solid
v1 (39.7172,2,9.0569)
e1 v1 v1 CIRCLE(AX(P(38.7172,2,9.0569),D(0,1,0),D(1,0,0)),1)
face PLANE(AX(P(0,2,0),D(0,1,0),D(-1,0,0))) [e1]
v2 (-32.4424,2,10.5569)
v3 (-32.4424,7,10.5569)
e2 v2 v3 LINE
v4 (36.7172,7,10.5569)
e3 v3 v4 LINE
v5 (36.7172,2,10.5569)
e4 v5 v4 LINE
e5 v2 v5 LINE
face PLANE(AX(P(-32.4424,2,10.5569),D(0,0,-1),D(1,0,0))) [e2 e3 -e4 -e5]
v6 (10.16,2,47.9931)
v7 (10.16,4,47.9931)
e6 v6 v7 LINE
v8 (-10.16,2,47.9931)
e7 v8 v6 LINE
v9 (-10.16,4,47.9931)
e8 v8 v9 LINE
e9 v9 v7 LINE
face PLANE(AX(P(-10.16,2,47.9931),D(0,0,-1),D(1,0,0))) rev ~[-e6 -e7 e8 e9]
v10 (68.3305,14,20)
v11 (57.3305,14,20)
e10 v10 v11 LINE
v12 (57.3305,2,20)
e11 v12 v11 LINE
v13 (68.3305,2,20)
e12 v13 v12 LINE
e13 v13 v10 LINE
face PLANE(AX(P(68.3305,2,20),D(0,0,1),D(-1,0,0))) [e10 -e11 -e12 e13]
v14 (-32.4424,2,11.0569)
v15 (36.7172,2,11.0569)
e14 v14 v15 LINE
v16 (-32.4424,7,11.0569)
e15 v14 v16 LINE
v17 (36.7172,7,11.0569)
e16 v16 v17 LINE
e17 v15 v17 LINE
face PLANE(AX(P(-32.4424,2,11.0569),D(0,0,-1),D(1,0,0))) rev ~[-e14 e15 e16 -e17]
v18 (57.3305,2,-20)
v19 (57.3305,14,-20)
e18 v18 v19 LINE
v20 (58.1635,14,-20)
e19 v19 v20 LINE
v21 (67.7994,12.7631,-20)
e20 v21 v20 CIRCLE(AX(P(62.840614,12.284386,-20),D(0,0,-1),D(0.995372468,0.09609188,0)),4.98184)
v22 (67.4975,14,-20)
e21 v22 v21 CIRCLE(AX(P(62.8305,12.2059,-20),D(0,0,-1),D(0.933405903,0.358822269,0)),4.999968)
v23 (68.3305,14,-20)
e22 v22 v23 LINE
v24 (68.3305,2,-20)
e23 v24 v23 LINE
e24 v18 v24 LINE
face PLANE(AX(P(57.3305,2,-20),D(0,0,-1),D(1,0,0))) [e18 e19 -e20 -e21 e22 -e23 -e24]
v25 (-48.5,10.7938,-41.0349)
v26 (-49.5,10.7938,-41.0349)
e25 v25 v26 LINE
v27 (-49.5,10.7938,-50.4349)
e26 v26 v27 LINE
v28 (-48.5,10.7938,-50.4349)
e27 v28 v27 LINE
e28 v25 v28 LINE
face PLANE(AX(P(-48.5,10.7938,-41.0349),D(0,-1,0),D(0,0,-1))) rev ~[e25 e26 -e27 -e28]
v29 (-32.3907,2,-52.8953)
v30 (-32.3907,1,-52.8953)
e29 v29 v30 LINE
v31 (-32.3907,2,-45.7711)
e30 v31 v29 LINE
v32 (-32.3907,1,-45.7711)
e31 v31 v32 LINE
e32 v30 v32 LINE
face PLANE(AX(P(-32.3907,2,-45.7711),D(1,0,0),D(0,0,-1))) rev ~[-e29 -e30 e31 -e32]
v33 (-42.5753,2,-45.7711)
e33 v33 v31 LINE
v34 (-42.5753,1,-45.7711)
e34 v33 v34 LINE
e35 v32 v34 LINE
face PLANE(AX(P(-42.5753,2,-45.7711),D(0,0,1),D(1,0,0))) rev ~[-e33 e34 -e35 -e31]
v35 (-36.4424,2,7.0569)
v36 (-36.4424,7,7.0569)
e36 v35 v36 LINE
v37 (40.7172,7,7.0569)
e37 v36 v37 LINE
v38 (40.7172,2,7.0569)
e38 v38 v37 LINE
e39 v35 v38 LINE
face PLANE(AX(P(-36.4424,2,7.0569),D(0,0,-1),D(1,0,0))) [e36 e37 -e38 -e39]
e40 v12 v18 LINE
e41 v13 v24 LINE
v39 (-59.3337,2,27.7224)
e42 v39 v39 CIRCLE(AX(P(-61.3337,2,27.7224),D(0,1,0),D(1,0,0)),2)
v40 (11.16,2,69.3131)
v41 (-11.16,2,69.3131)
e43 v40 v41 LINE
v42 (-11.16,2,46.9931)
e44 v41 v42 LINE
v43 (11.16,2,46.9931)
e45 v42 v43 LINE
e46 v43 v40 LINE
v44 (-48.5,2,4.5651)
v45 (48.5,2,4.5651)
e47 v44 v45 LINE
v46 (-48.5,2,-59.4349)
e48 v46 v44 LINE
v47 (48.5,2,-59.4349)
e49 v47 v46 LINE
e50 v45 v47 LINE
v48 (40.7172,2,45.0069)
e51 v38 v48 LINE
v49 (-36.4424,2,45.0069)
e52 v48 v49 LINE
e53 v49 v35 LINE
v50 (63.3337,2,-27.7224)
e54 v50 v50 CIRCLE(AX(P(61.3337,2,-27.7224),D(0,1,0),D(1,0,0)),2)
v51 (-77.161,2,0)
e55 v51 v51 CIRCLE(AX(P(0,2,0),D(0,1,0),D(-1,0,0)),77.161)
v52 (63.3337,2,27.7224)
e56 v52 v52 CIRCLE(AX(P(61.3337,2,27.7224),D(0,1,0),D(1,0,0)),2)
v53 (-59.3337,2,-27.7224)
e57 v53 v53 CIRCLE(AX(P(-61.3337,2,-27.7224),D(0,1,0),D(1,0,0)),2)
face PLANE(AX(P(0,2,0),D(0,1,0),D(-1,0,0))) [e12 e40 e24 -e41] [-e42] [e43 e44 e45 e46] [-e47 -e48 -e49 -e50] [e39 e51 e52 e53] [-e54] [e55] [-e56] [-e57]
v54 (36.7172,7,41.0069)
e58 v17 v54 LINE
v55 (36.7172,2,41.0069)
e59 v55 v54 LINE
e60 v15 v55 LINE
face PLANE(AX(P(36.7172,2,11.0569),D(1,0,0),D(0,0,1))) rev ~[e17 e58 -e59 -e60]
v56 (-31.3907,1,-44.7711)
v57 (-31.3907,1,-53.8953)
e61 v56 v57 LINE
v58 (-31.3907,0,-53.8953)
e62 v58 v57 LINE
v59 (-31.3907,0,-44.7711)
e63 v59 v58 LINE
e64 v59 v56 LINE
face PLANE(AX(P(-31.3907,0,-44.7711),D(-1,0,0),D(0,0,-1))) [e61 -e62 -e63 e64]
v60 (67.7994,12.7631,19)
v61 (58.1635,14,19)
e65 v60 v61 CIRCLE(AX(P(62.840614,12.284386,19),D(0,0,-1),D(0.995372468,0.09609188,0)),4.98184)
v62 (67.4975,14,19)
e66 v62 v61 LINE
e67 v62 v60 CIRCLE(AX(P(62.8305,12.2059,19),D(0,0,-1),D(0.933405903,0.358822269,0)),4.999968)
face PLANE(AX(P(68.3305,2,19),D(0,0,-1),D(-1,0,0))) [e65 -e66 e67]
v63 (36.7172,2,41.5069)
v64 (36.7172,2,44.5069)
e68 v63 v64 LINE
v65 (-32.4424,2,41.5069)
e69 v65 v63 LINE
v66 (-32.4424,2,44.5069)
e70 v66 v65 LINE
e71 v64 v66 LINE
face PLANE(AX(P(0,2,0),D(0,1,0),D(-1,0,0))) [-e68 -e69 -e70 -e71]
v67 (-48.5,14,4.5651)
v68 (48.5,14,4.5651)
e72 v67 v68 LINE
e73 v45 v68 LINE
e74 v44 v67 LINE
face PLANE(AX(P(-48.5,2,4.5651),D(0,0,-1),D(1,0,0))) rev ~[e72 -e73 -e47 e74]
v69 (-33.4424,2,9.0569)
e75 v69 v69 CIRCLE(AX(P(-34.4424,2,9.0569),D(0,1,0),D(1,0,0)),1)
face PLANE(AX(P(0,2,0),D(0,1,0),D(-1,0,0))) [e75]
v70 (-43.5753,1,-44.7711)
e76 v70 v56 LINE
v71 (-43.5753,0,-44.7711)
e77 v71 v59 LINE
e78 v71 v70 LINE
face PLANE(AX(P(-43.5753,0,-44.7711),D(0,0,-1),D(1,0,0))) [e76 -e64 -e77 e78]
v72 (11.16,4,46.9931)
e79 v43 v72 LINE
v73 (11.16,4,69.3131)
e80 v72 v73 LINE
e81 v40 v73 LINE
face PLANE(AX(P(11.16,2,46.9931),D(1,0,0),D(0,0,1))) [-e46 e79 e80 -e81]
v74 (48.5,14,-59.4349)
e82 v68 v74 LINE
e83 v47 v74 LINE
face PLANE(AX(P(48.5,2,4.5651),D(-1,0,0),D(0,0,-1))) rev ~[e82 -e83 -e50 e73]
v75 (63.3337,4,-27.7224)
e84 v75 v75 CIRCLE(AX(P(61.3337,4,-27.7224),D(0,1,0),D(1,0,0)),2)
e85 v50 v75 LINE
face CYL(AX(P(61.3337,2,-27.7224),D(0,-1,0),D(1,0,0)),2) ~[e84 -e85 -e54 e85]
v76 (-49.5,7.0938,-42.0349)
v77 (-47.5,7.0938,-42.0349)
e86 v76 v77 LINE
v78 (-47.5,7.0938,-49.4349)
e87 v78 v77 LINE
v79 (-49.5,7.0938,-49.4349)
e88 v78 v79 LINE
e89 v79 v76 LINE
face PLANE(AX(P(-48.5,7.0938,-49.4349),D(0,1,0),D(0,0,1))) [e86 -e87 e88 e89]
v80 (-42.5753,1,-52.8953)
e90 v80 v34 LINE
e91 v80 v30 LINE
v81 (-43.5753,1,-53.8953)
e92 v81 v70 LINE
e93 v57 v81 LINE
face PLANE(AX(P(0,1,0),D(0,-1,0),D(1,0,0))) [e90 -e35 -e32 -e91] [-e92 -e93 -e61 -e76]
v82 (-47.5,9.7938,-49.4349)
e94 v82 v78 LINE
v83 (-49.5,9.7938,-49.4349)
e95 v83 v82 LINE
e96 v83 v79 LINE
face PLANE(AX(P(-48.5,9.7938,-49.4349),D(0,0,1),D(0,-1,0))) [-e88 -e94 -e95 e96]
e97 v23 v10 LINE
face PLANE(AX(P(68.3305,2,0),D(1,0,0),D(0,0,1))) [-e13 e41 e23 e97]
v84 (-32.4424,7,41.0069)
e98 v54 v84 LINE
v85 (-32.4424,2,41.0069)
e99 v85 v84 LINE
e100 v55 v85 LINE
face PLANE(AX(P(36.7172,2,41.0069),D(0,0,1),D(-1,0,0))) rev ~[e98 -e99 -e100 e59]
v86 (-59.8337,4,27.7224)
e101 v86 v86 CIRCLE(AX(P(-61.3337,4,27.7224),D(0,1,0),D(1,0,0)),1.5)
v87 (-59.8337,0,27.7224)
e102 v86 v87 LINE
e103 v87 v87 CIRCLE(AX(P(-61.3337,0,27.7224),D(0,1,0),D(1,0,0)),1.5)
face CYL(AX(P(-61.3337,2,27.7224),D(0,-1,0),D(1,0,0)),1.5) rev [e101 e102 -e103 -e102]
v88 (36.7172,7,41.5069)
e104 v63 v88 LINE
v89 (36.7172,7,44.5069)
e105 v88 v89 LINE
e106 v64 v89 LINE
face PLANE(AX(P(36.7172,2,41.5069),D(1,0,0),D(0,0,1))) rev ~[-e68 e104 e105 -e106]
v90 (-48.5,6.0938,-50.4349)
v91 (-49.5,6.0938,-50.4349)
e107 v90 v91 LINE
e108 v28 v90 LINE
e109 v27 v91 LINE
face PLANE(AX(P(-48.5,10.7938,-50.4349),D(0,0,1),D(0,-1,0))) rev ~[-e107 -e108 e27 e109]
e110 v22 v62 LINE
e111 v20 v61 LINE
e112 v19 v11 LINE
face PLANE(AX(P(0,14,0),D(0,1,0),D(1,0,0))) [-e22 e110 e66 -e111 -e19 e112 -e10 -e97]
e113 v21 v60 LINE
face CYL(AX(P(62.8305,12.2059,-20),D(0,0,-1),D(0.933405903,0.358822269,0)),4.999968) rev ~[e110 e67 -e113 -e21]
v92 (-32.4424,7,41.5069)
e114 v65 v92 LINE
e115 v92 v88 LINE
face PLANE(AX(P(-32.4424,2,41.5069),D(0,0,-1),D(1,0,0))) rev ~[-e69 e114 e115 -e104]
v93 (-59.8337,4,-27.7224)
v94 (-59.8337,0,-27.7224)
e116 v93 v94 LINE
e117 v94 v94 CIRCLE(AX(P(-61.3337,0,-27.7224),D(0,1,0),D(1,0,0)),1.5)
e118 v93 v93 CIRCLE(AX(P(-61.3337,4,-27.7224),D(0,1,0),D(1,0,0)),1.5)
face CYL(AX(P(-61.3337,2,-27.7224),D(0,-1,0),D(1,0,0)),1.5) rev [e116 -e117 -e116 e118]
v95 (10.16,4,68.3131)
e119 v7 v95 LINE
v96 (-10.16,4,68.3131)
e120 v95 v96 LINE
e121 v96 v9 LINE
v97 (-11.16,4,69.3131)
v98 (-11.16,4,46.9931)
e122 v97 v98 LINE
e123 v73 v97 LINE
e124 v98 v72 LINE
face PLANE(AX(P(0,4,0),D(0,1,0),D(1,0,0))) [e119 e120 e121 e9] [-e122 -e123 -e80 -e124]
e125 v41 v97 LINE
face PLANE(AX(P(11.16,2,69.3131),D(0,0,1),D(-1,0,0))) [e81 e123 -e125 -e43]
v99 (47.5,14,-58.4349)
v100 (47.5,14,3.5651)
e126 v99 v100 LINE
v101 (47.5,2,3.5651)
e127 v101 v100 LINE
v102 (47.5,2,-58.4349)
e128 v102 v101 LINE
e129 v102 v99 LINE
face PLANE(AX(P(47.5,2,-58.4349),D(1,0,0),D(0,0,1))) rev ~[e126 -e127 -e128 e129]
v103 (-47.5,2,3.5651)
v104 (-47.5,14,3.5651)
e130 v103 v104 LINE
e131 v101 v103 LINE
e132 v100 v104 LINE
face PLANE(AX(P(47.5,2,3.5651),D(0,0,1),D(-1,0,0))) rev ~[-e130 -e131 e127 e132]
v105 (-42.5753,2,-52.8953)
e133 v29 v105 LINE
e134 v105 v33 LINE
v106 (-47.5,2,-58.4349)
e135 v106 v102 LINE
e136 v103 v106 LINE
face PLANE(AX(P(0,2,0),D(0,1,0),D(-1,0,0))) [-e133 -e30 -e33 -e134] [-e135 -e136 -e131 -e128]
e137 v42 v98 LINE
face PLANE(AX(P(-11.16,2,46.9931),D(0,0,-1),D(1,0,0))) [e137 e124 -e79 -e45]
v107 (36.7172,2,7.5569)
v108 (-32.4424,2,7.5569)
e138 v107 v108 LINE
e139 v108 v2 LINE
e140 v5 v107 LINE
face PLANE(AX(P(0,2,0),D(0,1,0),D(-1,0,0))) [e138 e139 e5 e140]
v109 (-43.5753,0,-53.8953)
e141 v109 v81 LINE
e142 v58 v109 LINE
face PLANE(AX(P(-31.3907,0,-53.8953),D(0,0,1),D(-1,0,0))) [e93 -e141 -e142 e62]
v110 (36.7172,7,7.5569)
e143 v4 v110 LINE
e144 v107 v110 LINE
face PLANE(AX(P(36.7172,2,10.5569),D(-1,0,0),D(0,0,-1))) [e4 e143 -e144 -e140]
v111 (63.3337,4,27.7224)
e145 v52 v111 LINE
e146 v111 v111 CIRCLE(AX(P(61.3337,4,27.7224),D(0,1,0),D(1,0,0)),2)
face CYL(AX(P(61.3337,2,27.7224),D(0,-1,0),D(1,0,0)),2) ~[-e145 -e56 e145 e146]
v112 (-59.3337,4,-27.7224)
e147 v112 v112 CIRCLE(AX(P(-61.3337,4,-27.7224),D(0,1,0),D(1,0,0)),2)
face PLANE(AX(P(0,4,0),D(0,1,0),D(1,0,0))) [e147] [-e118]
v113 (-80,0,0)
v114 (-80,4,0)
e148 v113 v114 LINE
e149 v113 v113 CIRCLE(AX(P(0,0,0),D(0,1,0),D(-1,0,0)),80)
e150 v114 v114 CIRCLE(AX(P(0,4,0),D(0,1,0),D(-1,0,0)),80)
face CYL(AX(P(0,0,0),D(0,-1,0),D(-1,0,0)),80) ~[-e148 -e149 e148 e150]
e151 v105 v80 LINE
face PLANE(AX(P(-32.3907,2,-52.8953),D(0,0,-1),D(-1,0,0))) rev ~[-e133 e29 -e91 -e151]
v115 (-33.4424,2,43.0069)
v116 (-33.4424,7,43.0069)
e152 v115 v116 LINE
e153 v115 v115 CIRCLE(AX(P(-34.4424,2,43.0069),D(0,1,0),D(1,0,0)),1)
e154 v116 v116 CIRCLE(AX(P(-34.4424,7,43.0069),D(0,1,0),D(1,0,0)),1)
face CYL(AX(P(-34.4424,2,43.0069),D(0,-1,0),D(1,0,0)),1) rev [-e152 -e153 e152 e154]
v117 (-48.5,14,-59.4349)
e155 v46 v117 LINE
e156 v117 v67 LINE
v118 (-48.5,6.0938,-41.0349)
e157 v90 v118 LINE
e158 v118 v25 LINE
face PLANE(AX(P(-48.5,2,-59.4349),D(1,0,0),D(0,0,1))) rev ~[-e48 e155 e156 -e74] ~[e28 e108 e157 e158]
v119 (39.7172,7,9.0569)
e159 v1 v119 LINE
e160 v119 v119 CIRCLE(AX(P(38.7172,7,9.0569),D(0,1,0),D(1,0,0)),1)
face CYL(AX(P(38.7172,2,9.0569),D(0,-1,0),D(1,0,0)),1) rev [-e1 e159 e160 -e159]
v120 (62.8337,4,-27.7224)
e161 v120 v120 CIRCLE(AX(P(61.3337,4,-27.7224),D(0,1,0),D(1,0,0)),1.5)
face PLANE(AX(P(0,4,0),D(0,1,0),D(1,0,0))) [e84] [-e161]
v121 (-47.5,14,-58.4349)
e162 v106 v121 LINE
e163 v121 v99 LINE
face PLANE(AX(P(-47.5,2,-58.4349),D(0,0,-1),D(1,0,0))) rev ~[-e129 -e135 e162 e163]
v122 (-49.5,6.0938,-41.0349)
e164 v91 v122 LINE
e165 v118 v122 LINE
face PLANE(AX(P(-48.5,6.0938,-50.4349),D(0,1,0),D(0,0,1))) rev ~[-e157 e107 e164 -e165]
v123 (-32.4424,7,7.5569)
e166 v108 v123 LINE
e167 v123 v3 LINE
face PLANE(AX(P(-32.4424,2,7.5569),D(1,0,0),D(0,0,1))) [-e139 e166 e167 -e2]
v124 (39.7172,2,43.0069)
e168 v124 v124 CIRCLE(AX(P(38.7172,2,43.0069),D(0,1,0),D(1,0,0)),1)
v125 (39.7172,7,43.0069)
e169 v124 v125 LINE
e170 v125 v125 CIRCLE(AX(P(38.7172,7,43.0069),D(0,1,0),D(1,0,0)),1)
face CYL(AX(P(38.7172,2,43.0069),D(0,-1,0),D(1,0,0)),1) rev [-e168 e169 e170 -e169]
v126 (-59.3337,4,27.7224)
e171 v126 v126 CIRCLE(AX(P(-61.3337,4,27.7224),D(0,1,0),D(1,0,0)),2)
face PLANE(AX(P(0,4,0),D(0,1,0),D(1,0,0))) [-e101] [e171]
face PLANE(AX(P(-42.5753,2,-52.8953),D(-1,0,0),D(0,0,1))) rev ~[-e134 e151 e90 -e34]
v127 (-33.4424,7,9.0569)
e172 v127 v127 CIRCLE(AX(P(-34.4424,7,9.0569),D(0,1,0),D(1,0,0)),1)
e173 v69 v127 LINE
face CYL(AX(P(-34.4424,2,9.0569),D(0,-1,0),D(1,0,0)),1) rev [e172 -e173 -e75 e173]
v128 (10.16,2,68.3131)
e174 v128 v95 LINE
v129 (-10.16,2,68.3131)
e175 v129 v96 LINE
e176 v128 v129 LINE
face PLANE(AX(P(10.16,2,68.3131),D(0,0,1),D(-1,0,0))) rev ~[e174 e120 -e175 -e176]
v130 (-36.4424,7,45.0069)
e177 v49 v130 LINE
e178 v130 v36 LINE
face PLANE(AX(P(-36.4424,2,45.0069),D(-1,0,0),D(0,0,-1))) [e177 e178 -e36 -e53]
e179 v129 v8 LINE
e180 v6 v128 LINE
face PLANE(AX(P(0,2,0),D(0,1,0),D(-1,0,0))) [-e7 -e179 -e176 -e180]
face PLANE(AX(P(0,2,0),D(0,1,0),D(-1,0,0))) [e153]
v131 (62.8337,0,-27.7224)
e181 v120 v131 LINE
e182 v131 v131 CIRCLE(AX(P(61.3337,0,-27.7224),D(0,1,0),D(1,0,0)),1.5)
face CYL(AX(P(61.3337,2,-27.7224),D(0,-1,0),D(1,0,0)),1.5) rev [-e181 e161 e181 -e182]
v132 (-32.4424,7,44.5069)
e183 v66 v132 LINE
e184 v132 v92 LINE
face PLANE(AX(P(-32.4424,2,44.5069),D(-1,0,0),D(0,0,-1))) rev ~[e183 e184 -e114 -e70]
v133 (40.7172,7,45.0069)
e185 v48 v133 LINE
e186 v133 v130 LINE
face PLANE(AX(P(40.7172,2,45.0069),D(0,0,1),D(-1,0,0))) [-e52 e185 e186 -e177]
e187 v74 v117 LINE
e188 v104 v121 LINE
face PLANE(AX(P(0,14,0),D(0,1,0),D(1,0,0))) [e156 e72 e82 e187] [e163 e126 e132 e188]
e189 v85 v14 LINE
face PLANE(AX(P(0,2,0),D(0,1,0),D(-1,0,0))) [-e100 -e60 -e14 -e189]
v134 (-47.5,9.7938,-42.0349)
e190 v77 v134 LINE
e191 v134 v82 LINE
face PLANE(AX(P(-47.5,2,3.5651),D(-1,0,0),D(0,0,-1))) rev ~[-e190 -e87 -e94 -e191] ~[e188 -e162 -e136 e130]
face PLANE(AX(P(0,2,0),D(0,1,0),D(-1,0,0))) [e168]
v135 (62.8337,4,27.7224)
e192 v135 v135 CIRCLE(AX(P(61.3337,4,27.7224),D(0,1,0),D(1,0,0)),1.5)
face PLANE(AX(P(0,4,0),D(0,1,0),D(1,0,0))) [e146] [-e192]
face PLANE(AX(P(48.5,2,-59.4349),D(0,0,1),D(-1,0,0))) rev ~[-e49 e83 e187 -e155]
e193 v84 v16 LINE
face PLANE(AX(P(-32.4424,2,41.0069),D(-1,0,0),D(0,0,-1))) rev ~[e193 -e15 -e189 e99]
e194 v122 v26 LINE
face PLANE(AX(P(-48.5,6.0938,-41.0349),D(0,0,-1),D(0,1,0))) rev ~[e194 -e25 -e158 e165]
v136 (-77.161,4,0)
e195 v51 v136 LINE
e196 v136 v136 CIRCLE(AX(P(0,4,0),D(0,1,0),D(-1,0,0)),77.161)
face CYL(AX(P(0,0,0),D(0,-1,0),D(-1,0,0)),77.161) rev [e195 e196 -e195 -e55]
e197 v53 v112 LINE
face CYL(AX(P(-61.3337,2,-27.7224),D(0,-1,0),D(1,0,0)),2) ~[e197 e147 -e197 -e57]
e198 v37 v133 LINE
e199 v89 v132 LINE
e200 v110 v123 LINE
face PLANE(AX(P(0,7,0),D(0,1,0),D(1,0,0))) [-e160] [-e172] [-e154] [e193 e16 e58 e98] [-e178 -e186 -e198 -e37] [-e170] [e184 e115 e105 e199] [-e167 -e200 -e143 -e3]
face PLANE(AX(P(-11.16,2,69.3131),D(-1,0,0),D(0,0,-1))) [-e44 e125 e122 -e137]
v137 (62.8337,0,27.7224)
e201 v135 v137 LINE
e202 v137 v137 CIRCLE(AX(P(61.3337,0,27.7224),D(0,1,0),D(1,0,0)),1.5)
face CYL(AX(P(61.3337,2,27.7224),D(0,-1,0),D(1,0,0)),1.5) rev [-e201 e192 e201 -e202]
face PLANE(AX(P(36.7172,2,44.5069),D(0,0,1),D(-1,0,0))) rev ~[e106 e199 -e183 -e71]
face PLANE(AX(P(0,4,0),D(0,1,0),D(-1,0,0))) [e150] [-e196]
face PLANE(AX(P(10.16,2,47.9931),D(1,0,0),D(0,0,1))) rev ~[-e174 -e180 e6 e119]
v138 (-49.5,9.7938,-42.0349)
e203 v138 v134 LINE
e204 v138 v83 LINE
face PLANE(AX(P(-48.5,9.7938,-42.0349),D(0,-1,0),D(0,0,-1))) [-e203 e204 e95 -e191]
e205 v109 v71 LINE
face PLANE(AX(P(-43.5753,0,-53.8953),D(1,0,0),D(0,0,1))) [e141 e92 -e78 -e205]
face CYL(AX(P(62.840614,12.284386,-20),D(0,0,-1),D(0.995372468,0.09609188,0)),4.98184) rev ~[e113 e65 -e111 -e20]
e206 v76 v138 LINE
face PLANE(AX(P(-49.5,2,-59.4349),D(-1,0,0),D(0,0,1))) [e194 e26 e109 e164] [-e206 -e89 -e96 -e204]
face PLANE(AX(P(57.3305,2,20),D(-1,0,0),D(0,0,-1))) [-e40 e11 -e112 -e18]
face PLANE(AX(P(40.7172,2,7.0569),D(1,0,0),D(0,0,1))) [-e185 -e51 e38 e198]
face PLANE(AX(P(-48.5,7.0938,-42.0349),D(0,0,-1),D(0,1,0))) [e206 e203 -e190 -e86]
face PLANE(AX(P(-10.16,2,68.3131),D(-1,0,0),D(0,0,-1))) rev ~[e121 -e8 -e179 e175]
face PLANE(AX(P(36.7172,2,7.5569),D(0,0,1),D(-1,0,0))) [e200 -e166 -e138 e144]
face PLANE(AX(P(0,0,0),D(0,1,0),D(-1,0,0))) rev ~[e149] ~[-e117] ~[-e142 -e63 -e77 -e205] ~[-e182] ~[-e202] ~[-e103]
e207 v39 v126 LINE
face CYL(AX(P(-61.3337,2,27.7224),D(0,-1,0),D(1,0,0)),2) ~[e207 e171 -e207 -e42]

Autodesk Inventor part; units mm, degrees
ref_plane "YZ Plane" through (0, 0, 0) normal (1, 0, 0) x (0, 1, 0)
ref_plane "XZ Plane" through (0, 0, 0) normal (0, 1, 0) x (-1, 0, 0)
ref_plane "XY Plane" through (0, 0, 0) normal (0, 0, 1) x (1, 0, 0)
sketch "Boceto1" plane through (0, 0, 0) normal (0, 1, 0) x (-1, 0, 0)
  circle A0 centre (0, 0) radius 80
  circle A1 centre (0, 0) radius 77.161
  dimension "d0" = 160
  dimension "d6" = 2.839
extrude "Extrusión3" add sketch "Boceto1" along normal blind 4
extrude "Extrusión4" add sketch "Boceto1" along normal blind 2 contours A1
sketch "Boceto2" plane through (0, 2, 0) normal (0, 1, 0) x (1, 0, 0)
  line L0 (47.5, -3.5651) -> (-47.5, -3.5651)
  line L1 (-47.5, -3.5651) -> (-47.5, 58.4349)
  line L2 (-47.5, 58.4349) -> (47.5, 58.4349)
  line L3 (47.5, 58.4349) -> (47.5, -3.5651)
  line L4 (47.5, -44.1835) -> (-47.5, 44.1835) construction
  line L5 (-47.5, -44.1835) -> (47.5, 44.1835) construction
  line L6 (-48.5, -4.5651) -> (48.5, -4.5651)
  line L7 (48.5, -4.5651) -> (48.5, 59.4349)
  line L8 (48.5, 59.4349) -> (-48.5, 59.4349)
  line L9 (-48.5, 59.4349) -> (-48.5, -4.5651)
  line L10 (-48.5, -9.337) -> (48.5, 54.663) construction
  line L11 (48.5, -45.1835) -> (-48.5, 45.1835) construction
  line L12 (-32.3907, 52.8953) -> (-42.5753, 52.8953)
  line L13 (-42.5753, 52.8953) -> (-42.5753, 45.7711)
  line L14 (-42.5753, 45.7711) -> (-32.3907, 45.7711)
  line L15 (-32.3907, 45.7711) -> (-32.3907, 52.8953)
  point P0 (0, 0)
  dimension "d11" = 95
  dimension "d12" = 62
  dimension "d16" = 1
  dimension "d17" = 1
extrude "Extrusión5" add sketch "Boceto2" along normal blind 12 contours L9 L8 L7 L6
sketch "Boceto4" plane through (-48.5, 2, -59.4349) normal (-1, 0, 0) x (0, 0, 1)
  line L0 (0, 0) -> (0, 12) projected
  line L1 (0, 12) -> (0, 1.9732)
  line L2 (10, 5.0938) -> (17.4, 5.0938)
  line L3 (17.4, 5.0938) -> (17.4, 7.7938)
  line L4 (17.4, 7.7938) -> (10, 7.7938)
  line L5 (10, 7.7938) -> (10, 5.0938)
  line L6 (10, 5.0938) -> (17.4, 7.7938) construction
  line L7 (17.4, 5.0938) -> (10, 7.7938) construction
  line L8 (9, 4.0938) -> (18.4, 4.0938)
  line L9 (18.4, 4.0938) -> (18.4, 8.7938)
  line L10 (18.4, 8.7938) -> (9, 8.7938)
  line L11 (9, 8.7938) -> (9, 4.0938)
  line L12 (9, 4.0938) -> (18.4, 8.7938) construction
  line L13 (18.4, 4.0938) -> (9, 8.7938) construction
  point P0 (59.4349, -2)
  point P1 (13.7, 6.4438)
  dimension "d22" = 7.4
  dimension "d23" = 2.7
  dimension "d24" = 1
  dimension "d25" = 1
extrude "Extrusión6" cut sketch "Boceto4" against normal blind 14 contours L5 L4 L3 L2
extrude "Extrusión7" add sketch "Boceto4" along normal blind 1
sketch "Boceto6" plane through (0, 2, 0) normal (0, 1, 0) x (1, 0, 0)
  line L0 (-32.4424, -11.0569) -> (36.7172, -11.0569)
  line L1 (36.7172, -11.0569) -> (36.7172, -41.0069)
  line L2 (36.7172, -41.0069) -> (-32.4424, -41.0069)
  line L3 (-32.4424, -41.0069) -> (-32.4424, -11.0569)
  line L4 (-36.4424, -7.0569) -> (40.7172, -7.0569)
  line L5 (40.7172, -7.0569) -> (40.7172, -45.0069)
  line L6 (40.7172, -45.0069) -> (-36.4424, -45.0069)
  line L7 (-36.4424, -45.0069) -> (-36.4424, -7.0569)
  line L8 (36.7172, -7.5569) -> (-32.4424, -7.5569)
  line L9 (-32.4424, -7.5569) -> (-32.4424, -10.5569)
  line L10 (-32.4424, -10.5569) -> (36.7172, -10.5569)
  line L11 (36.7172, -10.5569) -> (36.7172, -7.5569)
  line L12 (36.7172, -44.5069) -> (-32.4424, -44.5069)
  line L13 (-32.4424, -44.5069) -> (-32.4424, -41.5069)
  line L14 (-32.4424, -41.5069) -> (36.7172, -41.5069)
  line L15 (36.7172, -41.5069) -> (36.7172, -44.5069)
  circle A0 centre (38.7172, -9.0569) radius 1
  circle A1 centre (38.7172, -43.0069) radius 1
  circle A2 centre (-34.4424, -9.0569) radius 1
  circle A3 centre (-34.4424, -43.0069) radius 1
  point P0 (0, 0)
  dimension "d32" = 4
  dimension "d41" = 3
  dimension "d42" = 0.5
  dimension "d43" = 2
sketch "Boceto7" plane through (0, 2, 0) normal (0, 1, 0) x (1, 0, 0)
  line L0 (-10.16, -47.9931) -> (10.16, -47.9931)
  line L1 (10.16, -47.9931) -> (10.16, -68.3131)
  line L2 (10.16, -68.3131) -> (-10.16, -68.3131)
  line L3 (-10.16, -68.3131) -> (-10.16, -47.9931)
  line L4 (-10.16, -47.9931) -> (10.16, -68.3131) construction
  line L5 (10.16, -47.9931) -> (-10.16, -68.3131) construction
  line L6 (-11.16, -46.9931) -> (11.16, -46.9931)
  line L7 (11.16, -46.9931) -> (11.16, -69.3131)
  line L8 (11.16, -69.3131) -> (-11.16, -69.3131)
  line L9 (-11.16, -69.3131) -> (-11.16, -46.9931)
  line L10 (-11.16, -46.9931) -> (11.16, -69.3131) construction
  line L11 (11.16, -46.9931) -> (-11.16, -69.3131) construction
  point P0 (0, 0)
  point P1 (0, -58.1531)
  dimension "d34" = 20.32
  dimension "d35" = 20.32
  dimension "d36" = 22.32
  dimension "d37" = 22.32
extrude "Extrusión8" add sketch "Boceto7" along normal blind 2
extrude "Extrusión9" add sketch "Boceto6" along normal blind 5
thread "Rosca1" size "M2x0.4" class "6H" standard "ANSI Metric M Profile" full length
thread "Rosca2" size "M2x0.4" class "6H" standard "ANSI Metric M Profile" full length
thread "Rosca3" size "M2x0.4" class "6H" standard "ANSI Metric M Profile" full length
thread "Rosca4" size "M2x0.4" class "6H" standard "ANSI Metric M Profile" full length
extrude "Extrusión10" cut sketch "Boceto2" against normal through all contours L15 L14 L13 L12
sketch "Boceto8" plane through (0, 0, 0) normal (0, -1, 0) x (1, 0, 0)
  line L0 (-42.5753, -52.8953) -> (-32.3907, -52.8953) projected
  line L1 (-32.3907, -52.8953) -> (-32.3907, -45.7711) projected
  line L2 (-31.3907, -53.8953) -> (-43.5753, -53.8953)
  line L3 (-43.5753, -53.8953) -> (-43.5753, -44.7711)
  line L4 (-43.5753, -44.7711) -> (-31.3907, -44.7711)
  line L5 (-31.3907, -44.7711) -> (-31.3907, -53.8953)
  line L6 (-31.3907, -53.8953) -> (-43.5753, -44.7711) construction
  line L7 (-43.5753, -53.8953) -> (-31.3907, -44.7711) construction
  line L8 (-42.5753, -52.8953) -> (-42.5753, -45.7711) projected
  line L9 (-42.5753, -52.8953) -> (-32.3907, -52.8953)
  line L10 (-32.3907, -52.8953) -> (-32.3907, -45.7711)
  line L11 (-32.3907, -45.7711) -> (-42.5753, -45.7711)
  line L12 (-42.5753, -45.7711) -> (-42.5753, -52.8953)
  point P0 (0, 0)
  point P1 (-37.483, -49.3332)
  point P2 (-37.483, -52.8953)
  dimension "d56" = 1
  dimension "d57" = 1
extrude "Extrusión11" cut sketch "Boceto8" against normal blind 1
sketch "Boceto9" plane through (0, 2, 0) normal (0, 1, 0) x (1, 0, 0)
  circle A0 centre (0, 0) radius 77.161 projected
  line L0 (77.161, 0) -> (48.5, 0)
  line L1 (48.5, 59.4349) -> (48.5, -4.5651) projected
  line L2 (57.3305, 20) -> (68.3305, 20)
  line L3 (68.3305, 20) -> (68.3305, -20)
  line L4 (68.3305, -20) -> (57.3305, -20)
  line L5 (57.3305, -20) -> (57.3305, 20)
  line L6 (57.3305, 20) -> (68.3305, -20) construction
  line L7 (68.3305, 20) -> (57.3305, -20) construction
  point P0 (62.8305, 0)
  dimension "d60" = 11
  dimension "d61" = 40
extrude "Extrusión12" add sketch "Boceto9" along normal blind 12 contours L3 L4 L5 L0 | L0 L5 L2 L3
sketch "Boceto11" plane through (57.3305, 2, 20) normal (0, 0, 1) x (1, 0, 0)
  line L0 (11, 0) -> (0, 0) projected
  line L1 (0, 0) -> (0, 1)
  line L2 (0, 0) -> (0, 12) projected
  line L3 (0, 1) -> (11, 1)
  line L4 (11, 0) -> (11, 12) projected
  line L5 (0, 12) -> (11, 12) projected
  line L6 (0, 12) -> (0.5, 12)
  line L7 (11, 12) -> (10.5, 12)
  line L8 (10.167, 12) -> (0.833, 12)
  line L9 (0, 0) -> (11, 0) projected
  line L10 (0, 0) -> (0, 12) projected
  line L11 (11, 12) -> (0, 12) projected
  line L12 (11, 0) -> (11, 12) projected
  point P0 (-57.3305, -2)
  dimension "d64" = 1
sketch "Boceto12" plane through (68.3305, 2, -20) normal (0, 0, -1) x (-1, 0, 0)
  arc A0 (0.833, 12) -> (10.167, 12) centre (5.5, 10.2059) ccw projected
  arc A1 (0.5311, 10.7631) -> (10.167, 12) centre (5.4899, 10.2844) ccw
  line L0 (0.833, 12) -> (10.167, 12)
  line L1 (11, 0) -> (11, 12) projected
  point P0 (68.3305, -2)
extrude "Extrusión14" cut sketch "Boceto12" against normal blind 39 contours L0 A1 A0
sketch "Boceto13" plane through (0, 2, 0) normal (0, 1, 0) x (1, 0, 0)
  circle A0 centre (-61.3337, 27.7224) radius 1.5
  circle A1 centre (0, 0) radius 77.161 projected
  circle A2 centre (-61.3337, 27.7224) radius 2
  circle A3 centre (-61.3337, -27.7224) radius 1.5
  circle A4 centre (-61.3337, -27.7224) radius 2
  circle A5 centre (61.3337, 27.7224) radius 1.5
  circle A6 centre (61.3337, 27.7224) radius 2
  circle A7 centre (61.3337, -27.7224) radius 2
  circle A8 centre (61.3337, -27.7224) radius 1.5
  line L0 (-61.3337, -27.7224) -> (0, -27.7224)
  line L1 (0, -27.7224) -> (0, 0)
  dimension "d72" = 3
  dimension "d73" = 4
  dimension "d78" = 27.7224
  dimension "d79" = 61.3337
extrude "Extrusión15" add sketch "Boceto13" along normal blind 2 contours A2 | A4 | A6 | A7
extrude "Extrusión16" cut sketch "Boceto13" against normal blind 2 contours A0 | A3 | A5 | A8
properties part number "base"
